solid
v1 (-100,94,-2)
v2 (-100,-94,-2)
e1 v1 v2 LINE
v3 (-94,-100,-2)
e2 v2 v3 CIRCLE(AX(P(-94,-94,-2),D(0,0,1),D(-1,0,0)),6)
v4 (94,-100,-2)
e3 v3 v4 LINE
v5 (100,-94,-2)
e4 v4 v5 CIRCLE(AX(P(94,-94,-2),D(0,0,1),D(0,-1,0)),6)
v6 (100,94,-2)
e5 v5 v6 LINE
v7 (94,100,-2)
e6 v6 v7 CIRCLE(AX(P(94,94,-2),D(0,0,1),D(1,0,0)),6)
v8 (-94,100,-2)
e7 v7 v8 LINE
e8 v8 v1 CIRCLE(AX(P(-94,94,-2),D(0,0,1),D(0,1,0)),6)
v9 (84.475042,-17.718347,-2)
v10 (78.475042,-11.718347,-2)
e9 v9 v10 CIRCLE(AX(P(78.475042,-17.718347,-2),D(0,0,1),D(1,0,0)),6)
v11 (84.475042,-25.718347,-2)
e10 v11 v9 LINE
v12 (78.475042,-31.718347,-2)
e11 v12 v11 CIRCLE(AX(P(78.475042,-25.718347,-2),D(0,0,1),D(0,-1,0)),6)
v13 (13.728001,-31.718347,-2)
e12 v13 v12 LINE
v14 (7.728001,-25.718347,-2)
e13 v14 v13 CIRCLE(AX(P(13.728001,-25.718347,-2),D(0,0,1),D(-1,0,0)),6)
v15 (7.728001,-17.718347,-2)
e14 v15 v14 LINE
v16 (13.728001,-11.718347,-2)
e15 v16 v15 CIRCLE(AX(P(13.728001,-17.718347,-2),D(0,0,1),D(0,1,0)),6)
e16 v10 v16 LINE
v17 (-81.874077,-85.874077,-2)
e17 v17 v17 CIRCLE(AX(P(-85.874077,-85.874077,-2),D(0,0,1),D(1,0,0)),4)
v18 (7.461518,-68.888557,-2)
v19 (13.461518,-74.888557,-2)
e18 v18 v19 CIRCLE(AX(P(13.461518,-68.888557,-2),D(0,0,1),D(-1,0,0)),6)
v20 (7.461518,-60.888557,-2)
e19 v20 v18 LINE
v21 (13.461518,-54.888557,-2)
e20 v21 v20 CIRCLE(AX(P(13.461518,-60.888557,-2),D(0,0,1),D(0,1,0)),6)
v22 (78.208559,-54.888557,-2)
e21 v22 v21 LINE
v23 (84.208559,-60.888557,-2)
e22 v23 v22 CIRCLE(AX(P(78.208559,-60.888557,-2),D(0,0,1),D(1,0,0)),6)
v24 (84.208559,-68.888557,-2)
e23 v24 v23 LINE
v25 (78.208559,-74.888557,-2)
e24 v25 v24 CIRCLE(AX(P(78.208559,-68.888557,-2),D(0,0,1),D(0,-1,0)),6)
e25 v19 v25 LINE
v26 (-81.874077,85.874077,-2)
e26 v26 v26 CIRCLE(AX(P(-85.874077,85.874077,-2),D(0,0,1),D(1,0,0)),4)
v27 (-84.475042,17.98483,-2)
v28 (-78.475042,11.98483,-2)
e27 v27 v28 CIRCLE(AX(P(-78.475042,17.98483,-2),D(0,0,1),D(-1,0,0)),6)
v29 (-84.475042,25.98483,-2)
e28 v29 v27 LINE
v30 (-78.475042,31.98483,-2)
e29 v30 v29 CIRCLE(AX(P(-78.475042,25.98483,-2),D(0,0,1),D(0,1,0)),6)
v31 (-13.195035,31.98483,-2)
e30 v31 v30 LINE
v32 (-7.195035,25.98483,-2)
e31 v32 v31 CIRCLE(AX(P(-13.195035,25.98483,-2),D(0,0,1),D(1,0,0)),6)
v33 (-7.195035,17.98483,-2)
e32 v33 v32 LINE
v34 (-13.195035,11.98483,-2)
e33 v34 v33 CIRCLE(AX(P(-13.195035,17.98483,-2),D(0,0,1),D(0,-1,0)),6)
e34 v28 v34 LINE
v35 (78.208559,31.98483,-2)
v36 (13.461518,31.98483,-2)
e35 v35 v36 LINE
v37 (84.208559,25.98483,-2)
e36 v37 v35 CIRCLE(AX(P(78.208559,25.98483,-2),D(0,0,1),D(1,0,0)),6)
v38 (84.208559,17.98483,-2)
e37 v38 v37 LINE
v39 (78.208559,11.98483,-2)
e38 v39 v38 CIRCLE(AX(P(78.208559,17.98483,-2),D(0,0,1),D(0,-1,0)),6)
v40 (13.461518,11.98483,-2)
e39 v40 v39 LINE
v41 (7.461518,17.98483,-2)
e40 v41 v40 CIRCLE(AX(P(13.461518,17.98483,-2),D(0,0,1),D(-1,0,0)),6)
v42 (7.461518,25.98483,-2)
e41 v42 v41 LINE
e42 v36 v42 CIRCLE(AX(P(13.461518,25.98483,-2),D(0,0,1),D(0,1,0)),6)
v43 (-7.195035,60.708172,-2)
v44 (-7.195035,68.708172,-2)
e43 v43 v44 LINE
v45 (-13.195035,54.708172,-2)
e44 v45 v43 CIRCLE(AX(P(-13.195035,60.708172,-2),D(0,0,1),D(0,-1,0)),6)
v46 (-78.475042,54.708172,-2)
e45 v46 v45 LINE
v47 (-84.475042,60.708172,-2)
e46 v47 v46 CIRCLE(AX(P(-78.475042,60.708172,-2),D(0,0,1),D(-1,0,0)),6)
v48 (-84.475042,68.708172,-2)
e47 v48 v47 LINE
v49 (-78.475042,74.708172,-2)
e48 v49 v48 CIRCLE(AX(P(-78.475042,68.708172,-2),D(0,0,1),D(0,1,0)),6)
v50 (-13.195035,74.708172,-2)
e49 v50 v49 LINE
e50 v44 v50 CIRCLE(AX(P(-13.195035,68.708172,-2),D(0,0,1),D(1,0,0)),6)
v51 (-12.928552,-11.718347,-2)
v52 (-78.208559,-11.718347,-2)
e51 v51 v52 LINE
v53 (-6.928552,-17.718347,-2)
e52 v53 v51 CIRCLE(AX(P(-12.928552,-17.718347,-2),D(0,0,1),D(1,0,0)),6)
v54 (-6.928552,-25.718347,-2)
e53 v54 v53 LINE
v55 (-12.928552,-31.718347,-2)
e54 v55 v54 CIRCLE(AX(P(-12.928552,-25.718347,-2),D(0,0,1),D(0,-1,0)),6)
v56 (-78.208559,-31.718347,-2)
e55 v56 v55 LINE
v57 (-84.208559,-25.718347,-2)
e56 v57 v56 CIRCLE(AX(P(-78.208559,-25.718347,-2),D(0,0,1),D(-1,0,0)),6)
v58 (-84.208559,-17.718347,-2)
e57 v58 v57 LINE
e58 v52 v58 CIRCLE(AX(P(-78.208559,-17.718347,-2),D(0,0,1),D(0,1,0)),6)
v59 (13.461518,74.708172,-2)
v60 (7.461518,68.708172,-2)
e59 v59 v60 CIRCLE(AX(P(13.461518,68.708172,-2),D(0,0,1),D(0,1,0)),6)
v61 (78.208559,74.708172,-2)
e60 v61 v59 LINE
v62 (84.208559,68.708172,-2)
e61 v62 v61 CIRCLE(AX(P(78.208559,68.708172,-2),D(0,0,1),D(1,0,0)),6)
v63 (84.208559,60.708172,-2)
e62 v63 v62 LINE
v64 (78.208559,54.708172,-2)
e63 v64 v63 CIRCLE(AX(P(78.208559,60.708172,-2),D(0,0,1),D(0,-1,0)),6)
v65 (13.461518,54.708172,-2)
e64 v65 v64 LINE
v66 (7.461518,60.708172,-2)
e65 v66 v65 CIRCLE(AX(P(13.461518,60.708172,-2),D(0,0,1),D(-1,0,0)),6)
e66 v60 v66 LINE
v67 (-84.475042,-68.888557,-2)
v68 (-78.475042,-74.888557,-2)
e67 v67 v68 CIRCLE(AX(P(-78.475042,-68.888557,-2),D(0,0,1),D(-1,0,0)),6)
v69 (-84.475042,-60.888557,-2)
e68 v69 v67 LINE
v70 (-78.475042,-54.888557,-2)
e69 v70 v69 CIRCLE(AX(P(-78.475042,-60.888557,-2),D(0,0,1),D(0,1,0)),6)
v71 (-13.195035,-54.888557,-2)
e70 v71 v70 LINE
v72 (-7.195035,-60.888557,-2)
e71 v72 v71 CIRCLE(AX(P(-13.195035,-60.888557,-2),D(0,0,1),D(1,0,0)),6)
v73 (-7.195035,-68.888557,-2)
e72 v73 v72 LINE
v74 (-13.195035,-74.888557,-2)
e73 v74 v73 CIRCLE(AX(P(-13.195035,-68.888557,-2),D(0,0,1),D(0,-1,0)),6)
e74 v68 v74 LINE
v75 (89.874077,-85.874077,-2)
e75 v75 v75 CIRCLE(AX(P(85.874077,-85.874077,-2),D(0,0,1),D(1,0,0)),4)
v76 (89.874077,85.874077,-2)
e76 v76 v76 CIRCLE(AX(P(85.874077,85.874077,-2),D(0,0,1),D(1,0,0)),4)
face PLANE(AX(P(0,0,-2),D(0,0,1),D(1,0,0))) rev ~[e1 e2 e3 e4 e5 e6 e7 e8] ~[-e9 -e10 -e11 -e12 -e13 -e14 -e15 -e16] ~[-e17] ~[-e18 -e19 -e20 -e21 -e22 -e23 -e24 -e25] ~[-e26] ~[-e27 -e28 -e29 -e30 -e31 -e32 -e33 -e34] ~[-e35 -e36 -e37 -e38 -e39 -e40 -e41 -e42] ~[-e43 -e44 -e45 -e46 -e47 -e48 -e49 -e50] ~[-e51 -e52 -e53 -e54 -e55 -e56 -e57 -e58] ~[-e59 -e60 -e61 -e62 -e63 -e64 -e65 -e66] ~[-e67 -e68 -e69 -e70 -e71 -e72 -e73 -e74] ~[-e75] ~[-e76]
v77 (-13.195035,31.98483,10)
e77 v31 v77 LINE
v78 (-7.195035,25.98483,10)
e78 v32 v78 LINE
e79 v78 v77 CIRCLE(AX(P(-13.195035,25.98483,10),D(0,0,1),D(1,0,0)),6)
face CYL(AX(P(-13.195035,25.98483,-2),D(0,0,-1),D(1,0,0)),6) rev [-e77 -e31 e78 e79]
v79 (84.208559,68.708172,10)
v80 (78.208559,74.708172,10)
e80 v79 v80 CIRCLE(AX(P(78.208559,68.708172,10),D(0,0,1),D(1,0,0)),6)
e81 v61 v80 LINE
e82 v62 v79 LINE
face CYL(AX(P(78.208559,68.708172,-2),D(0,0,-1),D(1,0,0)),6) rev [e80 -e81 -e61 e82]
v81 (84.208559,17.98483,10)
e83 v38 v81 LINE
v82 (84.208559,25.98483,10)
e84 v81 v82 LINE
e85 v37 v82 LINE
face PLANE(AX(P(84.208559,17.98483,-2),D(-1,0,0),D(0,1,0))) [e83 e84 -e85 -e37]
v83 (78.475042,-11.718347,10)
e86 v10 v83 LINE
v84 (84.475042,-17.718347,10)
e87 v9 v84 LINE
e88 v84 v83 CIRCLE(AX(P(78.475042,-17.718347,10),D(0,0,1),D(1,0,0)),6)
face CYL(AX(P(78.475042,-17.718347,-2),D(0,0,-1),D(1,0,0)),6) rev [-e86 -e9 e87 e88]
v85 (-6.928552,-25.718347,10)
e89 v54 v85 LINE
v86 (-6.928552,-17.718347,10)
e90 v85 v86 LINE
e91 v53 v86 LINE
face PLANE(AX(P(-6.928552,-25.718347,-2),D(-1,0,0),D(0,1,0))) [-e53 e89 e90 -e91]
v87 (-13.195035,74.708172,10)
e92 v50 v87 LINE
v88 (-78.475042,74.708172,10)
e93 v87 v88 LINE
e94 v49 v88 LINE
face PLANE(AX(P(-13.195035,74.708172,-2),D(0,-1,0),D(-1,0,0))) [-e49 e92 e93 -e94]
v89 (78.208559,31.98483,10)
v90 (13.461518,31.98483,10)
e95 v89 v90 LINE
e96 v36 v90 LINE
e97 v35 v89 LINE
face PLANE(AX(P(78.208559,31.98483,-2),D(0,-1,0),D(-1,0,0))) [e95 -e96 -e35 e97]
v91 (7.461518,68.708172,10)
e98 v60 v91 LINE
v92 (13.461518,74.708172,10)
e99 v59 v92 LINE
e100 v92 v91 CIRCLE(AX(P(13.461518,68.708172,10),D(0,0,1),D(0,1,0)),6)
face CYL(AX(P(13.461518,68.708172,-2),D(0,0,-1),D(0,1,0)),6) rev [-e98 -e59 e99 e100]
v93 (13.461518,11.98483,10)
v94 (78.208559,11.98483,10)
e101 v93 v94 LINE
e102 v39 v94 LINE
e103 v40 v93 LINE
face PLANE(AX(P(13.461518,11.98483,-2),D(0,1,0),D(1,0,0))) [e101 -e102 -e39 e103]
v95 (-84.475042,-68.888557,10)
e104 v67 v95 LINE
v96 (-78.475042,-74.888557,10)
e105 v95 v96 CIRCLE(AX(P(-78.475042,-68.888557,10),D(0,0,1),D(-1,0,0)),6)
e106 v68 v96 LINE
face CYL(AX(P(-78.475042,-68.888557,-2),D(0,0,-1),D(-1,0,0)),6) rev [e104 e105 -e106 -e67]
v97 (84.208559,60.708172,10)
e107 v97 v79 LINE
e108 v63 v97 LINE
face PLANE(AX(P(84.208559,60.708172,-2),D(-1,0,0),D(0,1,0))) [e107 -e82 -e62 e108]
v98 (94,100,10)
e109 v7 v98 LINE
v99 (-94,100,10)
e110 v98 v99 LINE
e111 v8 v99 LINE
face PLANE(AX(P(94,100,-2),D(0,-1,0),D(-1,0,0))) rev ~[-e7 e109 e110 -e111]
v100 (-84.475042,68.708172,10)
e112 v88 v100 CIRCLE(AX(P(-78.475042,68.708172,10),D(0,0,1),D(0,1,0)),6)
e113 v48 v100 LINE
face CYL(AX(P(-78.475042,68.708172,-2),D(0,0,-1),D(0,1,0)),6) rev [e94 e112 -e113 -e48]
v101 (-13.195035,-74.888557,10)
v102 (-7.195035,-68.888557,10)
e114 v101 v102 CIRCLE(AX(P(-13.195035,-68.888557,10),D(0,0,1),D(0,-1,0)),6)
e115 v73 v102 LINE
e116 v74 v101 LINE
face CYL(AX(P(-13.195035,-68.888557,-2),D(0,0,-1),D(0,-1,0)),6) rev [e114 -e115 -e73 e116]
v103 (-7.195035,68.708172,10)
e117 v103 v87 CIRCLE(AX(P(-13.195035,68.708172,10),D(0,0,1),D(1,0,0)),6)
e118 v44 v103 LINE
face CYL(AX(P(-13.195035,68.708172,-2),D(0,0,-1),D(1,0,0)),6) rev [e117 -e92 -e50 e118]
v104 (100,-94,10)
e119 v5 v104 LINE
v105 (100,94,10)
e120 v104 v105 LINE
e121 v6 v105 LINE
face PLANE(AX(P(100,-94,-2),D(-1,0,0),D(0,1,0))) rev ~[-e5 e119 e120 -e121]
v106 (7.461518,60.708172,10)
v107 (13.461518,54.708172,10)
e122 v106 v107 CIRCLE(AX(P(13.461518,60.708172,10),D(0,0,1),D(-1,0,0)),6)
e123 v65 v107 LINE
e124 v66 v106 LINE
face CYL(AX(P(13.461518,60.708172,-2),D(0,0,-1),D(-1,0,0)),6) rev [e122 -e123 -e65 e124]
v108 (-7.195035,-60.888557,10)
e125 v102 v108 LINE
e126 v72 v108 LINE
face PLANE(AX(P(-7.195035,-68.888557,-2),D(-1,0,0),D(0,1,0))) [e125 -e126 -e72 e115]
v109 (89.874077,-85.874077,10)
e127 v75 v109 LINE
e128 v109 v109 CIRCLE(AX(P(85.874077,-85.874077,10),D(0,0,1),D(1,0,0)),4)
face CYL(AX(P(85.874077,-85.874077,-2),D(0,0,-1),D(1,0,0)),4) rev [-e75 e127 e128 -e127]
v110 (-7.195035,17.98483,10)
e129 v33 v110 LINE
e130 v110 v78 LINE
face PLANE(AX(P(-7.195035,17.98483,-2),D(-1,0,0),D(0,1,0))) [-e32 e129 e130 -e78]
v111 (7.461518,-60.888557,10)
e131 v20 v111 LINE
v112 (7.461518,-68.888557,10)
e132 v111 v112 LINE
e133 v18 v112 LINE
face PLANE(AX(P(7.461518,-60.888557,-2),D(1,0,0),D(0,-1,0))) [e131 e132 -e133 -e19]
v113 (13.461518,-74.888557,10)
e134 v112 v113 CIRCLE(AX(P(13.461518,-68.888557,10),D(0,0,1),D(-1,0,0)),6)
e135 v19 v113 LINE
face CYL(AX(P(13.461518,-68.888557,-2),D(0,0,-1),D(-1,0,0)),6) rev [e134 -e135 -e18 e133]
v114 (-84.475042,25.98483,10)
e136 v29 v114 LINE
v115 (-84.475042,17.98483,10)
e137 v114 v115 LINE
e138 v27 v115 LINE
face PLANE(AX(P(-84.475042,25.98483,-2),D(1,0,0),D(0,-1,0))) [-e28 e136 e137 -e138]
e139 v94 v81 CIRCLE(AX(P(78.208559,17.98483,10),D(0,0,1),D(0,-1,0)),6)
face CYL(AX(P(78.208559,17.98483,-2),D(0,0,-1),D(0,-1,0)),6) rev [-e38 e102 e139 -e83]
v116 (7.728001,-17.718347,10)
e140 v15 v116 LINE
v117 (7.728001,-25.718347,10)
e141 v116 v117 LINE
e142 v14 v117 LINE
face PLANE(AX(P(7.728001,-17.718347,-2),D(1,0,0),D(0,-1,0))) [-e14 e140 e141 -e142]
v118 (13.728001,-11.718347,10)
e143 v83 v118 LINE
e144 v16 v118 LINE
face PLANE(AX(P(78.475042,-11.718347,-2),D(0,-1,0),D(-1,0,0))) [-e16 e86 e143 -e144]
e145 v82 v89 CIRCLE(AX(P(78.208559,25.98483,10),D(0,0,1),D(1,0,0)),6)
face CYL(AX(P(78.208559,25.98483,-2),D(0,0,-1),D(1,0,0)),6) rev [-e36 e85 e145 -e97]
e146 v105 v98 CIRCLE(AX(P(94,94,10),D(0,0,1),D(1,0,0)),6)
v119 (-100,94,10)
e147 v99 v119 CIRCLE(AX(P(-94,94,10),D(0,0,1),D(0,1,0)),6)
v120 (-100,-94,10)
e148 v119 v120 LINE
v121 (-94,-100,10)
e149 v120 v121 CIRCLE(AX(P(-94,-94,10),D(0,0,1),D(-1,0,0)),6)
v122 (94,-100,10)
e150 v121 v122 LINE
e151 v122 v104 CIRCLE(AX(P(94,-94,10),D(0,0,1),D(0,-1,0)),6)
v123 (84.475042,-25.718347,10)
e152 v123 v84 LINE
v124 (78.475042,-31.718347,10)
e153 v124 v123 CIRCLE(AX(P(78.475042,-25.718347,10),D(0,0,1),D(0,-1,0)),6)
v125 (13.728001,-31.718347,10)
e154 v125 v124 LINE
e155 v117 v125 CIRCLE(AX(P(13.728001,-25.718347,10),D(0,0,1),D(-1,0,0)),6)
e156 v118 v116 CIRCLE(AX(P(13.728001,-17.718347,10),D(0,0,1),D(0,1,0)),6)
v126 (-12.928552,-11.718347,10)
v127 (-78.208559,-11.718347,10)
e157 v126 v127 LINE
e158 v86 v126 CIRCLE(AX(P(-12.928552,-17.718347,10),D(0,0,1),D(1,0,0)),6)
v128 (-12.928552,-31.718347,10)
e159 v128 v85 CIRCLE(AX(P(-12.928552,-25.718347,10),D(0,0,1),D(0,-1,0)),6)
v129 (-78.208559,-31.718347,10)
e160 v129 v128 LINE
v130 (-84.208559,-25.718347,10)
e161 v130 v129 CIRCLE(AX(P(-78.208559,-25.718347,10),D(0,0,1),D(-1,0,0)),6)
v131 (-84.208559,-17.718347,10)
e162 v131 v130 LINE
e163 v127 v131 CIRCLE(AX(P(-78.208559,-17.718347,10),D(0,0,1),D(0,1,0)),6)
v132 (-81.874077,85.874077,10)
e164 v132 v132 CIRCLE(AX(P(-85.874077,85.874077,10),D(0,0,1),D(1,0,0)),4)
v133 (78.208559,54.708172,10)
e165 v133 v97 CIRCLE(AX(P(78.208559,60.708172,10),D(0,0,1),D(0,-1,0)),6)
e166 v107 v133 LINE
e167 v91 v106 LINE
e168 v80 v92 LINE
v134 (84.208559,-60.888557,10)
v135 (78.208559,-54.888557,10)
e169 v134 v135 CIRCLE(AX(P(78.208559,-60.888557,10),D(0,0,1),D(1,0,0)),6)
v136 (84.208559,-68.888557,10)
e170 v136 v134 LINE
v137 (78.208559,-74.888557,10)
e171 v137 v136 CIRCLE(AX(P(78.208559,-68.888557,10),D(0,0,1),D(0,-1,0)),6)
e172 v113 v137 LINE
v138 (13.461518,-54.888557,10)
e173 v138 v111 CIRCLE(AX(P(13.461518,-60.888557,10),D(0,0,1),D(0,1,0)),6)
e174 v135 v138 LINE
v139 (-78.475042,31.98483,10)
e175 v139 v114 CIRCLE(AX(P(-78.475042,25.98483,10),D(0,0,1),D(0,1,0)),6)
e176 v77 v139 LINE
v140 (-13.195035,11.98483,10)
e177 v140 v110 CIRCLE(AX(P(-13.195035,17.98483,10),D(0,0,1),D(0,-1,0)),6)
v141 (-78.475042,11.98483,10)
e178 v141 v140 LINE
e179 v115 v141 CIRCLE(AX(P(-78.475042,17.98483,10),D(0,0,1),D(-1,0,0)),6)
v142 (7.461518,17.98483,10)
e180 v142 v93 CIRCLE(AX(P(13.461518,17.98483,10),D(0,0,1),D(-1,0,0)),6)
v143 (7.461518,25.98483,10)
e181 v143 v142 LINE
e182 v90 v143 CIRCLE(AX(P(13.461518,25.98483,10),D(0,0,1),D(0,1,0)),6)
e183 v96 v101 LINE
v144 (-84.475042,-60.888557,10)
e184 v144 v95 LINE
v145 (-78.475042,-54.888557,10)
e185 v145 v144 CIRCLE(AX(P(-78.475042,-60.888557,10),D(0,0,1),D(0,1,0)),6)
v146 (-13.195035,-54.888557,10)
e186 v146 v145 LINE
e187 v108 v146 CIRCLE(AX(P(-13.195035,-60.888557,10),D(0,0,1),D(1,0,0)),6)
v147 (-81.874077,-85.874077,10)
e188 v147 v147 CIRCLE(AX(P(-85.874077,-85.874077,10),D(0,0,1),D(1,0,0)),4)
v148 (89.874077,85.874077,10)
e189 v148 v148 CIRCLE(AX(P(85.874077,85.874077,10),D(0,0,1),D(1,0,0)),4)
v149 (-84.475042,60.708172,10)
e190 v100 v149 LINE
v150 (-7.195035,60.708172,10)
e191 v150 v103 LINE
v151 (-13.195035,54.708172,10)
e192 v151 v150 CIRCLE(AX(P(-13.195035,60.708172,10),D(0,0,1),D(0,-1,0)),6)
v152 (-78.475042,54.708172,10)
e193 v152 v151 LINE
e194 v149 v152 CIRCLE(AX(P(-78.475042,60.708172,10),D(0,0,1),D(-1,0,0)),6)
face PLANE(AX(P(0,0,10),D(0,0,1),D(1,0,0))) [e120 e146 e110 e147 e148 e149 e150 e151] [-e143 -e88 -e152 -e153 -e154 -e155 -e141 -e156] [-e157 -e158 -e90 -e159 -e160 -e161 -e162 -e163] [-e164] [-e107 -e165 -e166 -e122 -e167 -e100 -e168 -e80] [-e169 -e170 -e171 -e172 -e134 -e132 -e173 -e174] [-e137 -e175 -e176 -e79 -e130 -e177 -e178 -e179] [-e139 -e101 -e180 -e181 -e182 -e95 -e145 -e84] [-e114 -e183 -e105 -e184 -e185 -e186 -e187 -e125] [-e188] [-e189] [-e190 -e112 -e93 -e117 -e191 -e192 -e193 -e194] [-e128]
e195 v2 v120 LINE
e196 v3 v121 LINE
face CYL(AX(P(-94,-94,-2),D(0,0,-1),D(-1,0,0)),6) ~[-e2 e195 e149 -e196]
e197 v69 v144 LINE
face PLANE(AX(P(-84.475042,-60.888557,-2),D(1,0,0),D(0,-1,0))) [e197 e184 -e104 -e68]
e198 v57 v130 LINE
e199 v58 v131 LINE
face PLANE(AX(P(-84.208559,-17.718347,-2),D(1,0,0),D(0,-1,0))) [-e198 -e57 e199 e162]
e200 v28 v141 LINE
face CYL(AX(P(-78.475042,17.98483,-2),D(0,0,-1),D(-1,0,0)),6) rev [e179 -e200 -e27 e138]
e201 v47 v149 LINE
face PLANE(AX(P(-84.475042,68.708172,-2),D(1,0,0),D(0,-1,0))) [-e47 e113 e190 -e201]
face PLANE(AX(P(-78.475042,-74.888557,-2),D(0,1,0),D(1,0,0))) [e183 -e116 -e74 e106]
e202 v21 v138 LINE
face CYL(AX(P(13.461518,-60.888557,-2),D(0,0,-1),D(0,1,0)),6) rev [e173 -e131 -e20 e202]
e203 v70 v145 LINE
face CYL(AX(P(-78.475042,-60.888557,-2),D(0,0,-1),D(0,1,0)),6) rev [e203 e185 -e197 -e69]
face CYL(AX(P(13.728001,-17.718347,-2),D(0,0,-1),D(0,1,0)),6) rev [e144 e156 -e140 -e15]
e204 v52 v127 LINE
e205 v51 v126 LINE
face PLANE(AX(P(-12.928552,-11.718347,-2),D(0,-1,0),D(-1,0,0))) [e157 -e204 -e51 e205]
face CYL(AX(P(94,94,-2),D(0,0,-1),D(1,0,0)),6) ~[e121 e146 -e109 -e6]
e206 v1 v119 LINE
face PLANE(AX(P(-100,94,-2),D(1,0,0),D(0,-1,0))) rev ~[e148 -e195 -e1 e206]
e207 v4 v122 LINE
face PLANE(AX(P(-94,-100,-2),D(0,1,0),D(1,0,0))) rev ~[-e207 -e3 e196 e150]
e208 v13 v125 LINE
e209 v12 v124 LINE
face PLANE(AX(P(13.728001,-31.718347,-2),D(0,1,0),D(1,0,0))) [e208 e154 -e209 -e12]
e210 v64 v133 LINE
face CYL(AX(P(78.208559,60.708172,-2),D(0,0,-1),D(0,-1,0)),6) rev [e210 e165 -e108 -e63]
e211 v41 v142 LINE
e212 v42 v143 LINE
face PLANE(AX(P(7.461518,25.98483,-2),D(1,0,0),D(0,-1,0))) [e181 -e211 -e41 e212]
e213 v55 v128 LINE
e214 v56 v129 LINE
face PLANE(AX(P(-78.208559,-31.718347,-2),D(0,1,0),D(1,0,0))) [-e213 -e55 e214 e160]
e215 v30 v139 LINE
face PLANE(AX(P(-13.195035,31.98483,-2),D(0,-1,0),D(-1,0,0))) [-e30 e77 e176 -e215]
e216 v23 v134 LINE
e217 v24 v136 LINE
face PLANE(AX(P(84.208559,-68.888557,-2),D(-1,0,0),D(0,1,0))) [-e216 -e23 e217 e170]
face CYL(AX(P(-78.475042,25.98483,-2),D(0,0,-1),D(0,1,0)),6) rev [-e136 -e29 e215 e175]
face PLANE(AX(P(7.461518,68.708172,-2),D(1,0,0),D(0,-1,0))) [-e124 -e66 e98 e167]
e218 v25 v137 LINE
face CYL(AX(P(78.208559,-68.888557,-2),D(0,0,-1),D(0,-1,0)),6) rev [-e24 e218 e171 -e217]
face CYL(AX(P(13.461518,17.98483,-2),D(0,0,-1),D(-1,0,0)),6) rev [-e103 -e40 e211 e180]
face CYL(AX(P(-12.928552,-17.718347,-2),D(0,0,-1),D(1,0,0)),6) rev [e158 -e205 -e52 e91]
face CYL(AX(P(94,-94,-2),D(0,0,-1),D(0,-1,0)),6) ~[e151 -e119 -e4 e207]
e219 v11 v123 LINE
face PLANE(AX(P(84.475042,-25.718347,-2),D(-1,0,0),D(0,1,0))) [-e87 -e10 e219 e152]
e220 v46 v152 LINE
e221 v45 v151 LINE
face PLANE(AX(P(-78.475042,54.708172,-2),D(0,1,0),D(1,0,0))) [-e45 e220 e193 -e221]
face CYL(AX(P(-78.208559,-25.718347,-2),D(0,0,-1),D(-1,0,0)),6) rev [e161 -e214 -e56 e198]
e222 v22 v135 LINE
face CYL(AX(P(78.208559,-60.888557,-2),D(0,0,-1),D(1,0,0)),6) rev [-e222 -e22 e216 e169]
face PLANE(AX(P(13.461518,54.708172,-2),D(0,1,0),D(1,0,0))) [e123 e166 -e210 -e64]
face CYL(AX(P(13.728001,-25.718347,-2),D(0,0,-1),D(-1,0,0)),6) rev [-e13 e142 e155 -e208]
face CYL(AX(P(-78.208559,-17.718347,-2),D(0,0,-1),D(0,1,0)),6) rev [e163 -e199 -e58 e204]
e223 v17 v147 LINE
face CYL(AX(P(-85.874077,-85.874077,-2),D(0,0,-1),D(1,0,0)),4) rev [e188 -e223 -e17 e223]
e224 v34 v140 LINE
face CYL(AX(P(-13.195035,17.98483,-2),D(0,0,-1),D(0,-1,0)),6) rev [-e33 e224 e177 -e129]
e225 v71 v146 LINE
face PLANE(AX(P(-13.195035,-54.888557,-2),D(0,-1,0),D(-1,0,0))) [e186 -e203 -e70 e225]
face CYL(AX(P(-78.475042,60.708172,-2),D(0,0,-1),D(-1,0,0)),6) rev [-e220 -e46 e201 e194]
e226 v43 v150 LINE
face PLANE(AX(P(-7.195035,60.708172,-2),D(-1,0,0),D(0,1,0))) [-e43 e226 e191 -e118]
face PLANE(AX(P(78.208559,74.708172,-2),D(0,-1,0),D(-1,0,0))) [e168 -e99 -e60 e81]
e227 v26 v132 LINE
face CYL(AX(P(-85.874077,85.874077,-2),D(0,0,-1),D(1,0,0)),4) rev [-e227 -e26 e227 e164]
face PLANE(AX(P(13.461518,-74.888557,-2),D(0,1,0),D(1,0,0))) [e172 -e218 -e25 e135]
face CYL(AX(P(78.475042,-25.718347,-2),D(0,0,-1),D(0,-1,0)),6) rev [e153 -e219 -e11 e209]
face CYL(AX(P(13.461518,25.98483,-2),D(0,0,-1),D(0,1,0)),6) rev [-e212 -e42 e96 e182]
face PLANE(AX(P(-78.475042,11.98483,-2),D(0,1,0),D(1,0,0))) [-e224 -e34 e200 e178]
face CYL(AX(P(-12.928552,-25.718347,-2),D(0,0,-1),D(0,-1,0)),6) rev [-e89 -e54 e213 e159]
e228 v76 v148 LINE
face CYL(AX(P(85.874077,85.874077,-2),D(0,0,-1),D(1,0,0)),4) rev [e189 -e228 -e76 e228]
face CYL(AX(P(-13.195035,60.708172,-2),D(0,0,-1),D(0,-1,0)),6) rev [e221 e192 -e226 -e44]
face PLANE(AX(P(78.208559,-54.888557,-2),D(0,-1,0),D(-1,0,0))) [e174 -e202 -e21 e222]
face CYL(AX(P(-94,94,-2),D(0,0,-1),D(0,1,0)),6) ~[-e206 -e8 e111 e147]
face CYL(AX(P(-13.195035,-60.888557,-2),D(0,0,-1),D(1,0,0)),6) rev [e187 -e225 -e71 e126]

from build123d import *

# Parameters (mm, degrees)
SALIENTE_EXTRUIR2_DEPTH      = 10
SALIENTE_EXTRUIR2_DEPTH_BACK = 2
CROQUIS1_R                   = 4


with BuildPart() as part:
    # Croquis1 → Saliente-Extruir2 (new, two sides: drawn at the far end of the back side and taken through both)
    with BuildSketch(Plane.XY.offset(-SALIENTE_EXTRUIR2_DEPTH_BACK)):
        with BuildLine():
            Line((-94, -100), (94, -100))
            ThreePointArc((94, -100), (98.242640687, -98.242640687), (100, -94))
            Line((100, -94), (100, 94))
            ThreePointArc((100, 94), (98.242640687, 98.242640687), (94, 100))
            Line((94, 100), (-94, 100))
            ThreePointArc((-94, 100), (-98.242640687, 98.242640687), (-100, 94))
            Line((-100, 94), (-100, -94))
            ThreePointArc((-100, -94), (-98.242640687, -98.242640687), (-94, -100))
        make_face()
        with Locations((-85.874076582, 85.874076582)):
            Circle(CROQUIS1_R, mode=Mode.SUBTRACT)
        with Locations((85.874076582, 85.874076582)):
            Circle(CROQUIS1_R, mode=Mode.SUBTRACT)
        with Locations((85.874076582, -85.874076582)):
            Circle(CROQUIS1_R, mode=Mode.SUBTRACT)
        with Locations((-85.874076582, -85.874076582)):
            Circle(CROQUIS1_R, mode=Mode.SUBTRACT)
        with BuildLine():
            Line((-78.475041975, 54.708172492), (-13.195035121, 54.708172492))
            ThreePointArc((-13.195035121, 54.708172492), (-8.952394434, 56.465531805), (-7.195035121, 60.708172492))
            Line((-7.195035121, 60.708172492), (-7.195035121, 68.708172492))
            ThreePointArc((-7.195035121, 68.708172492), (-8.952394434, 72.95081318), (-13.195035121, 74.708172492))
            Line((-13.195035121, 74.708172492), (-78.475041975, 74.708172492))
            ThreePointArc((-78.475041975, 74.708172492), (-82.717682662, 72.95081318), (-84.475041975, 68.708172492))
            Line((-84.475041975, 68.708172492), (-84.475041975, 60.708172492))
            ThreePointArc((-84.475041975, 60.708172492), (-82.717682662, 56.465531805), (-78.475041975, 54.708172492))
        make_face(mode=Mode.SUBTRACT)
        with BuildLine():
            Line((-78.475041975, 11.984829536), (-13.195035121, 11.984829536))
            ThreePointArc((-13.195035121, 11.984829536), (-8.952394434, 13.742188849), (-7.195035121, 17.984829536))
            Line((-7.195035121, 17.984829536), (-7.195035121, 25.984829536))
            ThreePointArc((-7.195035121, 25.984829536), (-8.952394434, 30.227470223), (-13.195035121, 31.984829536))
            Line((-13.195035121, 31.984829536), (-78.475041975, 31.984829536))
            ThreePointArc((-78.475041975, 31.984829536), (-82.717682662, 30.227470223), (-84.475041975, 25.984829536))
            Line((-84.475041975, 25.984829536), (-84.475041975, 17.984829536))
            ThreePointArc((-84.475041975, 17.984829536), (-82.717682662, 13.742188849), (-78.475041975, 11.984829536))
        make_face(mode=Mode.SUBTRACT)
        with BuildLine():
            Line((-78.208559193, -31.718346754), (-12.928552339, -31.718346754))
            ThreePointArc((-12.928552339, -31.718346754), (-8.685911652, -29.960987441), (-6.928552339, -25.718346754))
            Line((-6.928552339, -25.718346754), (-6.928552339, -17.718346754))
            ThreePointArc((-6.928552339, -17.718346754), (-8.685911652, -13.475706067), (-12.928552339, -11.718346754))
            Line((-12.928552339, -11.718346754), (-78.208559193, -11.718346754))
            ThreePointArc((-78.208559193, -11.718346754), (-82.45119988, -13.475706067), (-84.208559193, -17.718346754))
            Line((-84.208559193, -17.718346754), (-84.208559193, -25.718346754))
            ThreePointArc((-84.208559193, -25.718346754), (-82.45119988, -29.960987441), (-78.208559193, -31.718346754))
        make_face(mode=Mode.SUBTRACT)
        with BuildLine():
            Line((-78.475041975, -74.888557479), (-13.195035121, -74.888557479))
            ThreePointArc((-13.195035121, -74.888557479), (-8.952394434, -73.131198166), (-7.195035121, -68.888557479))
            Line((-7.195035121, -68.888557479), (-7.195035121, -60.888557479))
            ThreePointArc((-7.195035121, -60.888557479), (-8.952394434, -56.645916792), (-13.195035121, -54.888557479))
            Line((-13.195035121, -54.888557479), (-78.475041975, -54.888557479))
            ThreePointArc((-78.475041975, -54.888557479), (-82.717682662, -56.645916792), (-84.475041975, -60.888557479))
            Line((-84.475041975, -60.888557479), (-84.475041975, -68.888557479))
            ThreePointArc((-84.475041975, -68.888557479), (-82.717682662, -73.131198166), (-78.475041975, -74.888557479))
        make_face(mode=Mode.SUBTRACT)
        with BuildLine():
            Line((13.461517903, 11.984829536), (78.208559193, 11.984829536))
            ThreePointArc((78.208559193, 11.984829536), (82.45119988, 13.742188849), (84.208559193, 17.984829536))
            Line((84.208559193, 17.984829536), (84.208559193, 25.984829536))
            ThreePointArc((84.208559193, 25.984829536), (82.45119988, 30.227470223), (78.208559193, 31.984829536))
            Line((78.208559193, 31.984829536), (13.461517903, 31.984829536))
            ThreePointArc((13.461517903, 31.984829536), (9.218877216, 30.227470223), (7.461517903, 25.984829536))
            Line((7.461517903, 25.984829536), (7.461517903, 17.984829536))
            ThreePointArc((7.461517903, 17.984829536), (9.218877216, 13.742188849), (13.461517903, 11.984829536))
        make_face(mode=Mode.SUBTRACT)
        with BuildLine():
            Line((13.461517903, 54.708172492), (78.208559193, 54.708172492))
            ThreePointArc((78.208559193, 54.708172492), (82.45119988, 56.465531805), (84.208559193, 60.708172492))
            Line((84.208559193, 60.708172492), (84.208559193, 68.708172492))
            ThreePointArc((84.208559193, 68.708172492), (82.45119988, 72.95081318), (78.208559193, 74.708172492))
            Line((78.208559193, 74.708172492), (13.461517903, 74.708172492))
            ThreePointArc((13.461517903, 74.708172492), (9.218877216, 72.95081318), (7.461517903, 68.708172492))
            Line((7.461517903, 68.708172492), (7.461517903, 60.708172492))
            ThreePointArc((7.461517903, 60.708172492), (9.218877216, 56.465531805), (13.461517903, 54.708172492))
        make_face(mode=Mode.SUBTRACT)
        with BuildLine():
            Line((13.728000685, -31.718346754), (78.475041975, -31.718346754))
            ThreePointArc((78.475041975, -31.718346754), (82.717682662, -29.960987441), (84.475041975, -25.718346754))
            Line((84.475041975, -25.718346754), (84.475041975, -17.718346754))
            ThreePointArc((84.475041975, -17.718346754), (82.717682662, -13.475706067), (78.475041975, -11.718346754))
            Line((78.475041975, -11.718346754), (13.728000685, -11.718346754))
            ThreePointArc((13.728000685, -11.718346754), (9.485359998, -13.475706067), (7.728000685, -17.718346754))
            Line((7.728000685, -17.718346754), (7.728000685, -25.718346754))
            ThreePointArc((7.728000685, -25.718346754), (9.485359998, -29.960987441), (13.728000685, -31.718346754))
        make_face(mode=Mode.SUBTRACT)
        with BuildLine():
            Line((13.461517903, -74.888557479), (78.208559193, -74.888557479))
            ThreePointArc((78.208559193, -74.888557479), (82.45119988, -73.131198166), (84.208559193, -68.888557479))
            Line((84.208559193, -68.888557479), (84.208559193, -60.888557479))
            ThreePointArc((84.208559193, -60.888557479), (82.45119988, -56.645916792), (78.208559193, -54.888557479))
            Line((78.208559193, -54.888557479), (13.461517903, -54.888557479))
            ThreePointArc((13.461517903, -54.888557479), (9.218877216, -56.645916792), (7.461517903, -60.888557479))
            Line((7.461517903, -60.888557479), (7.461517903, -68.888557479))
            ThreePointArc((7.461517903, -68.888557479), (9.218877216, -73.131198166), (13.461517903, -74.888557479))
        make_face(mode=Mode.SUBTRACT)
    extrude(amount=SALIENTE_EXTRUIR2_DEPTH + SALIENTE_EXTRUIR2_DEPTH_BACK)


solid = part.part
